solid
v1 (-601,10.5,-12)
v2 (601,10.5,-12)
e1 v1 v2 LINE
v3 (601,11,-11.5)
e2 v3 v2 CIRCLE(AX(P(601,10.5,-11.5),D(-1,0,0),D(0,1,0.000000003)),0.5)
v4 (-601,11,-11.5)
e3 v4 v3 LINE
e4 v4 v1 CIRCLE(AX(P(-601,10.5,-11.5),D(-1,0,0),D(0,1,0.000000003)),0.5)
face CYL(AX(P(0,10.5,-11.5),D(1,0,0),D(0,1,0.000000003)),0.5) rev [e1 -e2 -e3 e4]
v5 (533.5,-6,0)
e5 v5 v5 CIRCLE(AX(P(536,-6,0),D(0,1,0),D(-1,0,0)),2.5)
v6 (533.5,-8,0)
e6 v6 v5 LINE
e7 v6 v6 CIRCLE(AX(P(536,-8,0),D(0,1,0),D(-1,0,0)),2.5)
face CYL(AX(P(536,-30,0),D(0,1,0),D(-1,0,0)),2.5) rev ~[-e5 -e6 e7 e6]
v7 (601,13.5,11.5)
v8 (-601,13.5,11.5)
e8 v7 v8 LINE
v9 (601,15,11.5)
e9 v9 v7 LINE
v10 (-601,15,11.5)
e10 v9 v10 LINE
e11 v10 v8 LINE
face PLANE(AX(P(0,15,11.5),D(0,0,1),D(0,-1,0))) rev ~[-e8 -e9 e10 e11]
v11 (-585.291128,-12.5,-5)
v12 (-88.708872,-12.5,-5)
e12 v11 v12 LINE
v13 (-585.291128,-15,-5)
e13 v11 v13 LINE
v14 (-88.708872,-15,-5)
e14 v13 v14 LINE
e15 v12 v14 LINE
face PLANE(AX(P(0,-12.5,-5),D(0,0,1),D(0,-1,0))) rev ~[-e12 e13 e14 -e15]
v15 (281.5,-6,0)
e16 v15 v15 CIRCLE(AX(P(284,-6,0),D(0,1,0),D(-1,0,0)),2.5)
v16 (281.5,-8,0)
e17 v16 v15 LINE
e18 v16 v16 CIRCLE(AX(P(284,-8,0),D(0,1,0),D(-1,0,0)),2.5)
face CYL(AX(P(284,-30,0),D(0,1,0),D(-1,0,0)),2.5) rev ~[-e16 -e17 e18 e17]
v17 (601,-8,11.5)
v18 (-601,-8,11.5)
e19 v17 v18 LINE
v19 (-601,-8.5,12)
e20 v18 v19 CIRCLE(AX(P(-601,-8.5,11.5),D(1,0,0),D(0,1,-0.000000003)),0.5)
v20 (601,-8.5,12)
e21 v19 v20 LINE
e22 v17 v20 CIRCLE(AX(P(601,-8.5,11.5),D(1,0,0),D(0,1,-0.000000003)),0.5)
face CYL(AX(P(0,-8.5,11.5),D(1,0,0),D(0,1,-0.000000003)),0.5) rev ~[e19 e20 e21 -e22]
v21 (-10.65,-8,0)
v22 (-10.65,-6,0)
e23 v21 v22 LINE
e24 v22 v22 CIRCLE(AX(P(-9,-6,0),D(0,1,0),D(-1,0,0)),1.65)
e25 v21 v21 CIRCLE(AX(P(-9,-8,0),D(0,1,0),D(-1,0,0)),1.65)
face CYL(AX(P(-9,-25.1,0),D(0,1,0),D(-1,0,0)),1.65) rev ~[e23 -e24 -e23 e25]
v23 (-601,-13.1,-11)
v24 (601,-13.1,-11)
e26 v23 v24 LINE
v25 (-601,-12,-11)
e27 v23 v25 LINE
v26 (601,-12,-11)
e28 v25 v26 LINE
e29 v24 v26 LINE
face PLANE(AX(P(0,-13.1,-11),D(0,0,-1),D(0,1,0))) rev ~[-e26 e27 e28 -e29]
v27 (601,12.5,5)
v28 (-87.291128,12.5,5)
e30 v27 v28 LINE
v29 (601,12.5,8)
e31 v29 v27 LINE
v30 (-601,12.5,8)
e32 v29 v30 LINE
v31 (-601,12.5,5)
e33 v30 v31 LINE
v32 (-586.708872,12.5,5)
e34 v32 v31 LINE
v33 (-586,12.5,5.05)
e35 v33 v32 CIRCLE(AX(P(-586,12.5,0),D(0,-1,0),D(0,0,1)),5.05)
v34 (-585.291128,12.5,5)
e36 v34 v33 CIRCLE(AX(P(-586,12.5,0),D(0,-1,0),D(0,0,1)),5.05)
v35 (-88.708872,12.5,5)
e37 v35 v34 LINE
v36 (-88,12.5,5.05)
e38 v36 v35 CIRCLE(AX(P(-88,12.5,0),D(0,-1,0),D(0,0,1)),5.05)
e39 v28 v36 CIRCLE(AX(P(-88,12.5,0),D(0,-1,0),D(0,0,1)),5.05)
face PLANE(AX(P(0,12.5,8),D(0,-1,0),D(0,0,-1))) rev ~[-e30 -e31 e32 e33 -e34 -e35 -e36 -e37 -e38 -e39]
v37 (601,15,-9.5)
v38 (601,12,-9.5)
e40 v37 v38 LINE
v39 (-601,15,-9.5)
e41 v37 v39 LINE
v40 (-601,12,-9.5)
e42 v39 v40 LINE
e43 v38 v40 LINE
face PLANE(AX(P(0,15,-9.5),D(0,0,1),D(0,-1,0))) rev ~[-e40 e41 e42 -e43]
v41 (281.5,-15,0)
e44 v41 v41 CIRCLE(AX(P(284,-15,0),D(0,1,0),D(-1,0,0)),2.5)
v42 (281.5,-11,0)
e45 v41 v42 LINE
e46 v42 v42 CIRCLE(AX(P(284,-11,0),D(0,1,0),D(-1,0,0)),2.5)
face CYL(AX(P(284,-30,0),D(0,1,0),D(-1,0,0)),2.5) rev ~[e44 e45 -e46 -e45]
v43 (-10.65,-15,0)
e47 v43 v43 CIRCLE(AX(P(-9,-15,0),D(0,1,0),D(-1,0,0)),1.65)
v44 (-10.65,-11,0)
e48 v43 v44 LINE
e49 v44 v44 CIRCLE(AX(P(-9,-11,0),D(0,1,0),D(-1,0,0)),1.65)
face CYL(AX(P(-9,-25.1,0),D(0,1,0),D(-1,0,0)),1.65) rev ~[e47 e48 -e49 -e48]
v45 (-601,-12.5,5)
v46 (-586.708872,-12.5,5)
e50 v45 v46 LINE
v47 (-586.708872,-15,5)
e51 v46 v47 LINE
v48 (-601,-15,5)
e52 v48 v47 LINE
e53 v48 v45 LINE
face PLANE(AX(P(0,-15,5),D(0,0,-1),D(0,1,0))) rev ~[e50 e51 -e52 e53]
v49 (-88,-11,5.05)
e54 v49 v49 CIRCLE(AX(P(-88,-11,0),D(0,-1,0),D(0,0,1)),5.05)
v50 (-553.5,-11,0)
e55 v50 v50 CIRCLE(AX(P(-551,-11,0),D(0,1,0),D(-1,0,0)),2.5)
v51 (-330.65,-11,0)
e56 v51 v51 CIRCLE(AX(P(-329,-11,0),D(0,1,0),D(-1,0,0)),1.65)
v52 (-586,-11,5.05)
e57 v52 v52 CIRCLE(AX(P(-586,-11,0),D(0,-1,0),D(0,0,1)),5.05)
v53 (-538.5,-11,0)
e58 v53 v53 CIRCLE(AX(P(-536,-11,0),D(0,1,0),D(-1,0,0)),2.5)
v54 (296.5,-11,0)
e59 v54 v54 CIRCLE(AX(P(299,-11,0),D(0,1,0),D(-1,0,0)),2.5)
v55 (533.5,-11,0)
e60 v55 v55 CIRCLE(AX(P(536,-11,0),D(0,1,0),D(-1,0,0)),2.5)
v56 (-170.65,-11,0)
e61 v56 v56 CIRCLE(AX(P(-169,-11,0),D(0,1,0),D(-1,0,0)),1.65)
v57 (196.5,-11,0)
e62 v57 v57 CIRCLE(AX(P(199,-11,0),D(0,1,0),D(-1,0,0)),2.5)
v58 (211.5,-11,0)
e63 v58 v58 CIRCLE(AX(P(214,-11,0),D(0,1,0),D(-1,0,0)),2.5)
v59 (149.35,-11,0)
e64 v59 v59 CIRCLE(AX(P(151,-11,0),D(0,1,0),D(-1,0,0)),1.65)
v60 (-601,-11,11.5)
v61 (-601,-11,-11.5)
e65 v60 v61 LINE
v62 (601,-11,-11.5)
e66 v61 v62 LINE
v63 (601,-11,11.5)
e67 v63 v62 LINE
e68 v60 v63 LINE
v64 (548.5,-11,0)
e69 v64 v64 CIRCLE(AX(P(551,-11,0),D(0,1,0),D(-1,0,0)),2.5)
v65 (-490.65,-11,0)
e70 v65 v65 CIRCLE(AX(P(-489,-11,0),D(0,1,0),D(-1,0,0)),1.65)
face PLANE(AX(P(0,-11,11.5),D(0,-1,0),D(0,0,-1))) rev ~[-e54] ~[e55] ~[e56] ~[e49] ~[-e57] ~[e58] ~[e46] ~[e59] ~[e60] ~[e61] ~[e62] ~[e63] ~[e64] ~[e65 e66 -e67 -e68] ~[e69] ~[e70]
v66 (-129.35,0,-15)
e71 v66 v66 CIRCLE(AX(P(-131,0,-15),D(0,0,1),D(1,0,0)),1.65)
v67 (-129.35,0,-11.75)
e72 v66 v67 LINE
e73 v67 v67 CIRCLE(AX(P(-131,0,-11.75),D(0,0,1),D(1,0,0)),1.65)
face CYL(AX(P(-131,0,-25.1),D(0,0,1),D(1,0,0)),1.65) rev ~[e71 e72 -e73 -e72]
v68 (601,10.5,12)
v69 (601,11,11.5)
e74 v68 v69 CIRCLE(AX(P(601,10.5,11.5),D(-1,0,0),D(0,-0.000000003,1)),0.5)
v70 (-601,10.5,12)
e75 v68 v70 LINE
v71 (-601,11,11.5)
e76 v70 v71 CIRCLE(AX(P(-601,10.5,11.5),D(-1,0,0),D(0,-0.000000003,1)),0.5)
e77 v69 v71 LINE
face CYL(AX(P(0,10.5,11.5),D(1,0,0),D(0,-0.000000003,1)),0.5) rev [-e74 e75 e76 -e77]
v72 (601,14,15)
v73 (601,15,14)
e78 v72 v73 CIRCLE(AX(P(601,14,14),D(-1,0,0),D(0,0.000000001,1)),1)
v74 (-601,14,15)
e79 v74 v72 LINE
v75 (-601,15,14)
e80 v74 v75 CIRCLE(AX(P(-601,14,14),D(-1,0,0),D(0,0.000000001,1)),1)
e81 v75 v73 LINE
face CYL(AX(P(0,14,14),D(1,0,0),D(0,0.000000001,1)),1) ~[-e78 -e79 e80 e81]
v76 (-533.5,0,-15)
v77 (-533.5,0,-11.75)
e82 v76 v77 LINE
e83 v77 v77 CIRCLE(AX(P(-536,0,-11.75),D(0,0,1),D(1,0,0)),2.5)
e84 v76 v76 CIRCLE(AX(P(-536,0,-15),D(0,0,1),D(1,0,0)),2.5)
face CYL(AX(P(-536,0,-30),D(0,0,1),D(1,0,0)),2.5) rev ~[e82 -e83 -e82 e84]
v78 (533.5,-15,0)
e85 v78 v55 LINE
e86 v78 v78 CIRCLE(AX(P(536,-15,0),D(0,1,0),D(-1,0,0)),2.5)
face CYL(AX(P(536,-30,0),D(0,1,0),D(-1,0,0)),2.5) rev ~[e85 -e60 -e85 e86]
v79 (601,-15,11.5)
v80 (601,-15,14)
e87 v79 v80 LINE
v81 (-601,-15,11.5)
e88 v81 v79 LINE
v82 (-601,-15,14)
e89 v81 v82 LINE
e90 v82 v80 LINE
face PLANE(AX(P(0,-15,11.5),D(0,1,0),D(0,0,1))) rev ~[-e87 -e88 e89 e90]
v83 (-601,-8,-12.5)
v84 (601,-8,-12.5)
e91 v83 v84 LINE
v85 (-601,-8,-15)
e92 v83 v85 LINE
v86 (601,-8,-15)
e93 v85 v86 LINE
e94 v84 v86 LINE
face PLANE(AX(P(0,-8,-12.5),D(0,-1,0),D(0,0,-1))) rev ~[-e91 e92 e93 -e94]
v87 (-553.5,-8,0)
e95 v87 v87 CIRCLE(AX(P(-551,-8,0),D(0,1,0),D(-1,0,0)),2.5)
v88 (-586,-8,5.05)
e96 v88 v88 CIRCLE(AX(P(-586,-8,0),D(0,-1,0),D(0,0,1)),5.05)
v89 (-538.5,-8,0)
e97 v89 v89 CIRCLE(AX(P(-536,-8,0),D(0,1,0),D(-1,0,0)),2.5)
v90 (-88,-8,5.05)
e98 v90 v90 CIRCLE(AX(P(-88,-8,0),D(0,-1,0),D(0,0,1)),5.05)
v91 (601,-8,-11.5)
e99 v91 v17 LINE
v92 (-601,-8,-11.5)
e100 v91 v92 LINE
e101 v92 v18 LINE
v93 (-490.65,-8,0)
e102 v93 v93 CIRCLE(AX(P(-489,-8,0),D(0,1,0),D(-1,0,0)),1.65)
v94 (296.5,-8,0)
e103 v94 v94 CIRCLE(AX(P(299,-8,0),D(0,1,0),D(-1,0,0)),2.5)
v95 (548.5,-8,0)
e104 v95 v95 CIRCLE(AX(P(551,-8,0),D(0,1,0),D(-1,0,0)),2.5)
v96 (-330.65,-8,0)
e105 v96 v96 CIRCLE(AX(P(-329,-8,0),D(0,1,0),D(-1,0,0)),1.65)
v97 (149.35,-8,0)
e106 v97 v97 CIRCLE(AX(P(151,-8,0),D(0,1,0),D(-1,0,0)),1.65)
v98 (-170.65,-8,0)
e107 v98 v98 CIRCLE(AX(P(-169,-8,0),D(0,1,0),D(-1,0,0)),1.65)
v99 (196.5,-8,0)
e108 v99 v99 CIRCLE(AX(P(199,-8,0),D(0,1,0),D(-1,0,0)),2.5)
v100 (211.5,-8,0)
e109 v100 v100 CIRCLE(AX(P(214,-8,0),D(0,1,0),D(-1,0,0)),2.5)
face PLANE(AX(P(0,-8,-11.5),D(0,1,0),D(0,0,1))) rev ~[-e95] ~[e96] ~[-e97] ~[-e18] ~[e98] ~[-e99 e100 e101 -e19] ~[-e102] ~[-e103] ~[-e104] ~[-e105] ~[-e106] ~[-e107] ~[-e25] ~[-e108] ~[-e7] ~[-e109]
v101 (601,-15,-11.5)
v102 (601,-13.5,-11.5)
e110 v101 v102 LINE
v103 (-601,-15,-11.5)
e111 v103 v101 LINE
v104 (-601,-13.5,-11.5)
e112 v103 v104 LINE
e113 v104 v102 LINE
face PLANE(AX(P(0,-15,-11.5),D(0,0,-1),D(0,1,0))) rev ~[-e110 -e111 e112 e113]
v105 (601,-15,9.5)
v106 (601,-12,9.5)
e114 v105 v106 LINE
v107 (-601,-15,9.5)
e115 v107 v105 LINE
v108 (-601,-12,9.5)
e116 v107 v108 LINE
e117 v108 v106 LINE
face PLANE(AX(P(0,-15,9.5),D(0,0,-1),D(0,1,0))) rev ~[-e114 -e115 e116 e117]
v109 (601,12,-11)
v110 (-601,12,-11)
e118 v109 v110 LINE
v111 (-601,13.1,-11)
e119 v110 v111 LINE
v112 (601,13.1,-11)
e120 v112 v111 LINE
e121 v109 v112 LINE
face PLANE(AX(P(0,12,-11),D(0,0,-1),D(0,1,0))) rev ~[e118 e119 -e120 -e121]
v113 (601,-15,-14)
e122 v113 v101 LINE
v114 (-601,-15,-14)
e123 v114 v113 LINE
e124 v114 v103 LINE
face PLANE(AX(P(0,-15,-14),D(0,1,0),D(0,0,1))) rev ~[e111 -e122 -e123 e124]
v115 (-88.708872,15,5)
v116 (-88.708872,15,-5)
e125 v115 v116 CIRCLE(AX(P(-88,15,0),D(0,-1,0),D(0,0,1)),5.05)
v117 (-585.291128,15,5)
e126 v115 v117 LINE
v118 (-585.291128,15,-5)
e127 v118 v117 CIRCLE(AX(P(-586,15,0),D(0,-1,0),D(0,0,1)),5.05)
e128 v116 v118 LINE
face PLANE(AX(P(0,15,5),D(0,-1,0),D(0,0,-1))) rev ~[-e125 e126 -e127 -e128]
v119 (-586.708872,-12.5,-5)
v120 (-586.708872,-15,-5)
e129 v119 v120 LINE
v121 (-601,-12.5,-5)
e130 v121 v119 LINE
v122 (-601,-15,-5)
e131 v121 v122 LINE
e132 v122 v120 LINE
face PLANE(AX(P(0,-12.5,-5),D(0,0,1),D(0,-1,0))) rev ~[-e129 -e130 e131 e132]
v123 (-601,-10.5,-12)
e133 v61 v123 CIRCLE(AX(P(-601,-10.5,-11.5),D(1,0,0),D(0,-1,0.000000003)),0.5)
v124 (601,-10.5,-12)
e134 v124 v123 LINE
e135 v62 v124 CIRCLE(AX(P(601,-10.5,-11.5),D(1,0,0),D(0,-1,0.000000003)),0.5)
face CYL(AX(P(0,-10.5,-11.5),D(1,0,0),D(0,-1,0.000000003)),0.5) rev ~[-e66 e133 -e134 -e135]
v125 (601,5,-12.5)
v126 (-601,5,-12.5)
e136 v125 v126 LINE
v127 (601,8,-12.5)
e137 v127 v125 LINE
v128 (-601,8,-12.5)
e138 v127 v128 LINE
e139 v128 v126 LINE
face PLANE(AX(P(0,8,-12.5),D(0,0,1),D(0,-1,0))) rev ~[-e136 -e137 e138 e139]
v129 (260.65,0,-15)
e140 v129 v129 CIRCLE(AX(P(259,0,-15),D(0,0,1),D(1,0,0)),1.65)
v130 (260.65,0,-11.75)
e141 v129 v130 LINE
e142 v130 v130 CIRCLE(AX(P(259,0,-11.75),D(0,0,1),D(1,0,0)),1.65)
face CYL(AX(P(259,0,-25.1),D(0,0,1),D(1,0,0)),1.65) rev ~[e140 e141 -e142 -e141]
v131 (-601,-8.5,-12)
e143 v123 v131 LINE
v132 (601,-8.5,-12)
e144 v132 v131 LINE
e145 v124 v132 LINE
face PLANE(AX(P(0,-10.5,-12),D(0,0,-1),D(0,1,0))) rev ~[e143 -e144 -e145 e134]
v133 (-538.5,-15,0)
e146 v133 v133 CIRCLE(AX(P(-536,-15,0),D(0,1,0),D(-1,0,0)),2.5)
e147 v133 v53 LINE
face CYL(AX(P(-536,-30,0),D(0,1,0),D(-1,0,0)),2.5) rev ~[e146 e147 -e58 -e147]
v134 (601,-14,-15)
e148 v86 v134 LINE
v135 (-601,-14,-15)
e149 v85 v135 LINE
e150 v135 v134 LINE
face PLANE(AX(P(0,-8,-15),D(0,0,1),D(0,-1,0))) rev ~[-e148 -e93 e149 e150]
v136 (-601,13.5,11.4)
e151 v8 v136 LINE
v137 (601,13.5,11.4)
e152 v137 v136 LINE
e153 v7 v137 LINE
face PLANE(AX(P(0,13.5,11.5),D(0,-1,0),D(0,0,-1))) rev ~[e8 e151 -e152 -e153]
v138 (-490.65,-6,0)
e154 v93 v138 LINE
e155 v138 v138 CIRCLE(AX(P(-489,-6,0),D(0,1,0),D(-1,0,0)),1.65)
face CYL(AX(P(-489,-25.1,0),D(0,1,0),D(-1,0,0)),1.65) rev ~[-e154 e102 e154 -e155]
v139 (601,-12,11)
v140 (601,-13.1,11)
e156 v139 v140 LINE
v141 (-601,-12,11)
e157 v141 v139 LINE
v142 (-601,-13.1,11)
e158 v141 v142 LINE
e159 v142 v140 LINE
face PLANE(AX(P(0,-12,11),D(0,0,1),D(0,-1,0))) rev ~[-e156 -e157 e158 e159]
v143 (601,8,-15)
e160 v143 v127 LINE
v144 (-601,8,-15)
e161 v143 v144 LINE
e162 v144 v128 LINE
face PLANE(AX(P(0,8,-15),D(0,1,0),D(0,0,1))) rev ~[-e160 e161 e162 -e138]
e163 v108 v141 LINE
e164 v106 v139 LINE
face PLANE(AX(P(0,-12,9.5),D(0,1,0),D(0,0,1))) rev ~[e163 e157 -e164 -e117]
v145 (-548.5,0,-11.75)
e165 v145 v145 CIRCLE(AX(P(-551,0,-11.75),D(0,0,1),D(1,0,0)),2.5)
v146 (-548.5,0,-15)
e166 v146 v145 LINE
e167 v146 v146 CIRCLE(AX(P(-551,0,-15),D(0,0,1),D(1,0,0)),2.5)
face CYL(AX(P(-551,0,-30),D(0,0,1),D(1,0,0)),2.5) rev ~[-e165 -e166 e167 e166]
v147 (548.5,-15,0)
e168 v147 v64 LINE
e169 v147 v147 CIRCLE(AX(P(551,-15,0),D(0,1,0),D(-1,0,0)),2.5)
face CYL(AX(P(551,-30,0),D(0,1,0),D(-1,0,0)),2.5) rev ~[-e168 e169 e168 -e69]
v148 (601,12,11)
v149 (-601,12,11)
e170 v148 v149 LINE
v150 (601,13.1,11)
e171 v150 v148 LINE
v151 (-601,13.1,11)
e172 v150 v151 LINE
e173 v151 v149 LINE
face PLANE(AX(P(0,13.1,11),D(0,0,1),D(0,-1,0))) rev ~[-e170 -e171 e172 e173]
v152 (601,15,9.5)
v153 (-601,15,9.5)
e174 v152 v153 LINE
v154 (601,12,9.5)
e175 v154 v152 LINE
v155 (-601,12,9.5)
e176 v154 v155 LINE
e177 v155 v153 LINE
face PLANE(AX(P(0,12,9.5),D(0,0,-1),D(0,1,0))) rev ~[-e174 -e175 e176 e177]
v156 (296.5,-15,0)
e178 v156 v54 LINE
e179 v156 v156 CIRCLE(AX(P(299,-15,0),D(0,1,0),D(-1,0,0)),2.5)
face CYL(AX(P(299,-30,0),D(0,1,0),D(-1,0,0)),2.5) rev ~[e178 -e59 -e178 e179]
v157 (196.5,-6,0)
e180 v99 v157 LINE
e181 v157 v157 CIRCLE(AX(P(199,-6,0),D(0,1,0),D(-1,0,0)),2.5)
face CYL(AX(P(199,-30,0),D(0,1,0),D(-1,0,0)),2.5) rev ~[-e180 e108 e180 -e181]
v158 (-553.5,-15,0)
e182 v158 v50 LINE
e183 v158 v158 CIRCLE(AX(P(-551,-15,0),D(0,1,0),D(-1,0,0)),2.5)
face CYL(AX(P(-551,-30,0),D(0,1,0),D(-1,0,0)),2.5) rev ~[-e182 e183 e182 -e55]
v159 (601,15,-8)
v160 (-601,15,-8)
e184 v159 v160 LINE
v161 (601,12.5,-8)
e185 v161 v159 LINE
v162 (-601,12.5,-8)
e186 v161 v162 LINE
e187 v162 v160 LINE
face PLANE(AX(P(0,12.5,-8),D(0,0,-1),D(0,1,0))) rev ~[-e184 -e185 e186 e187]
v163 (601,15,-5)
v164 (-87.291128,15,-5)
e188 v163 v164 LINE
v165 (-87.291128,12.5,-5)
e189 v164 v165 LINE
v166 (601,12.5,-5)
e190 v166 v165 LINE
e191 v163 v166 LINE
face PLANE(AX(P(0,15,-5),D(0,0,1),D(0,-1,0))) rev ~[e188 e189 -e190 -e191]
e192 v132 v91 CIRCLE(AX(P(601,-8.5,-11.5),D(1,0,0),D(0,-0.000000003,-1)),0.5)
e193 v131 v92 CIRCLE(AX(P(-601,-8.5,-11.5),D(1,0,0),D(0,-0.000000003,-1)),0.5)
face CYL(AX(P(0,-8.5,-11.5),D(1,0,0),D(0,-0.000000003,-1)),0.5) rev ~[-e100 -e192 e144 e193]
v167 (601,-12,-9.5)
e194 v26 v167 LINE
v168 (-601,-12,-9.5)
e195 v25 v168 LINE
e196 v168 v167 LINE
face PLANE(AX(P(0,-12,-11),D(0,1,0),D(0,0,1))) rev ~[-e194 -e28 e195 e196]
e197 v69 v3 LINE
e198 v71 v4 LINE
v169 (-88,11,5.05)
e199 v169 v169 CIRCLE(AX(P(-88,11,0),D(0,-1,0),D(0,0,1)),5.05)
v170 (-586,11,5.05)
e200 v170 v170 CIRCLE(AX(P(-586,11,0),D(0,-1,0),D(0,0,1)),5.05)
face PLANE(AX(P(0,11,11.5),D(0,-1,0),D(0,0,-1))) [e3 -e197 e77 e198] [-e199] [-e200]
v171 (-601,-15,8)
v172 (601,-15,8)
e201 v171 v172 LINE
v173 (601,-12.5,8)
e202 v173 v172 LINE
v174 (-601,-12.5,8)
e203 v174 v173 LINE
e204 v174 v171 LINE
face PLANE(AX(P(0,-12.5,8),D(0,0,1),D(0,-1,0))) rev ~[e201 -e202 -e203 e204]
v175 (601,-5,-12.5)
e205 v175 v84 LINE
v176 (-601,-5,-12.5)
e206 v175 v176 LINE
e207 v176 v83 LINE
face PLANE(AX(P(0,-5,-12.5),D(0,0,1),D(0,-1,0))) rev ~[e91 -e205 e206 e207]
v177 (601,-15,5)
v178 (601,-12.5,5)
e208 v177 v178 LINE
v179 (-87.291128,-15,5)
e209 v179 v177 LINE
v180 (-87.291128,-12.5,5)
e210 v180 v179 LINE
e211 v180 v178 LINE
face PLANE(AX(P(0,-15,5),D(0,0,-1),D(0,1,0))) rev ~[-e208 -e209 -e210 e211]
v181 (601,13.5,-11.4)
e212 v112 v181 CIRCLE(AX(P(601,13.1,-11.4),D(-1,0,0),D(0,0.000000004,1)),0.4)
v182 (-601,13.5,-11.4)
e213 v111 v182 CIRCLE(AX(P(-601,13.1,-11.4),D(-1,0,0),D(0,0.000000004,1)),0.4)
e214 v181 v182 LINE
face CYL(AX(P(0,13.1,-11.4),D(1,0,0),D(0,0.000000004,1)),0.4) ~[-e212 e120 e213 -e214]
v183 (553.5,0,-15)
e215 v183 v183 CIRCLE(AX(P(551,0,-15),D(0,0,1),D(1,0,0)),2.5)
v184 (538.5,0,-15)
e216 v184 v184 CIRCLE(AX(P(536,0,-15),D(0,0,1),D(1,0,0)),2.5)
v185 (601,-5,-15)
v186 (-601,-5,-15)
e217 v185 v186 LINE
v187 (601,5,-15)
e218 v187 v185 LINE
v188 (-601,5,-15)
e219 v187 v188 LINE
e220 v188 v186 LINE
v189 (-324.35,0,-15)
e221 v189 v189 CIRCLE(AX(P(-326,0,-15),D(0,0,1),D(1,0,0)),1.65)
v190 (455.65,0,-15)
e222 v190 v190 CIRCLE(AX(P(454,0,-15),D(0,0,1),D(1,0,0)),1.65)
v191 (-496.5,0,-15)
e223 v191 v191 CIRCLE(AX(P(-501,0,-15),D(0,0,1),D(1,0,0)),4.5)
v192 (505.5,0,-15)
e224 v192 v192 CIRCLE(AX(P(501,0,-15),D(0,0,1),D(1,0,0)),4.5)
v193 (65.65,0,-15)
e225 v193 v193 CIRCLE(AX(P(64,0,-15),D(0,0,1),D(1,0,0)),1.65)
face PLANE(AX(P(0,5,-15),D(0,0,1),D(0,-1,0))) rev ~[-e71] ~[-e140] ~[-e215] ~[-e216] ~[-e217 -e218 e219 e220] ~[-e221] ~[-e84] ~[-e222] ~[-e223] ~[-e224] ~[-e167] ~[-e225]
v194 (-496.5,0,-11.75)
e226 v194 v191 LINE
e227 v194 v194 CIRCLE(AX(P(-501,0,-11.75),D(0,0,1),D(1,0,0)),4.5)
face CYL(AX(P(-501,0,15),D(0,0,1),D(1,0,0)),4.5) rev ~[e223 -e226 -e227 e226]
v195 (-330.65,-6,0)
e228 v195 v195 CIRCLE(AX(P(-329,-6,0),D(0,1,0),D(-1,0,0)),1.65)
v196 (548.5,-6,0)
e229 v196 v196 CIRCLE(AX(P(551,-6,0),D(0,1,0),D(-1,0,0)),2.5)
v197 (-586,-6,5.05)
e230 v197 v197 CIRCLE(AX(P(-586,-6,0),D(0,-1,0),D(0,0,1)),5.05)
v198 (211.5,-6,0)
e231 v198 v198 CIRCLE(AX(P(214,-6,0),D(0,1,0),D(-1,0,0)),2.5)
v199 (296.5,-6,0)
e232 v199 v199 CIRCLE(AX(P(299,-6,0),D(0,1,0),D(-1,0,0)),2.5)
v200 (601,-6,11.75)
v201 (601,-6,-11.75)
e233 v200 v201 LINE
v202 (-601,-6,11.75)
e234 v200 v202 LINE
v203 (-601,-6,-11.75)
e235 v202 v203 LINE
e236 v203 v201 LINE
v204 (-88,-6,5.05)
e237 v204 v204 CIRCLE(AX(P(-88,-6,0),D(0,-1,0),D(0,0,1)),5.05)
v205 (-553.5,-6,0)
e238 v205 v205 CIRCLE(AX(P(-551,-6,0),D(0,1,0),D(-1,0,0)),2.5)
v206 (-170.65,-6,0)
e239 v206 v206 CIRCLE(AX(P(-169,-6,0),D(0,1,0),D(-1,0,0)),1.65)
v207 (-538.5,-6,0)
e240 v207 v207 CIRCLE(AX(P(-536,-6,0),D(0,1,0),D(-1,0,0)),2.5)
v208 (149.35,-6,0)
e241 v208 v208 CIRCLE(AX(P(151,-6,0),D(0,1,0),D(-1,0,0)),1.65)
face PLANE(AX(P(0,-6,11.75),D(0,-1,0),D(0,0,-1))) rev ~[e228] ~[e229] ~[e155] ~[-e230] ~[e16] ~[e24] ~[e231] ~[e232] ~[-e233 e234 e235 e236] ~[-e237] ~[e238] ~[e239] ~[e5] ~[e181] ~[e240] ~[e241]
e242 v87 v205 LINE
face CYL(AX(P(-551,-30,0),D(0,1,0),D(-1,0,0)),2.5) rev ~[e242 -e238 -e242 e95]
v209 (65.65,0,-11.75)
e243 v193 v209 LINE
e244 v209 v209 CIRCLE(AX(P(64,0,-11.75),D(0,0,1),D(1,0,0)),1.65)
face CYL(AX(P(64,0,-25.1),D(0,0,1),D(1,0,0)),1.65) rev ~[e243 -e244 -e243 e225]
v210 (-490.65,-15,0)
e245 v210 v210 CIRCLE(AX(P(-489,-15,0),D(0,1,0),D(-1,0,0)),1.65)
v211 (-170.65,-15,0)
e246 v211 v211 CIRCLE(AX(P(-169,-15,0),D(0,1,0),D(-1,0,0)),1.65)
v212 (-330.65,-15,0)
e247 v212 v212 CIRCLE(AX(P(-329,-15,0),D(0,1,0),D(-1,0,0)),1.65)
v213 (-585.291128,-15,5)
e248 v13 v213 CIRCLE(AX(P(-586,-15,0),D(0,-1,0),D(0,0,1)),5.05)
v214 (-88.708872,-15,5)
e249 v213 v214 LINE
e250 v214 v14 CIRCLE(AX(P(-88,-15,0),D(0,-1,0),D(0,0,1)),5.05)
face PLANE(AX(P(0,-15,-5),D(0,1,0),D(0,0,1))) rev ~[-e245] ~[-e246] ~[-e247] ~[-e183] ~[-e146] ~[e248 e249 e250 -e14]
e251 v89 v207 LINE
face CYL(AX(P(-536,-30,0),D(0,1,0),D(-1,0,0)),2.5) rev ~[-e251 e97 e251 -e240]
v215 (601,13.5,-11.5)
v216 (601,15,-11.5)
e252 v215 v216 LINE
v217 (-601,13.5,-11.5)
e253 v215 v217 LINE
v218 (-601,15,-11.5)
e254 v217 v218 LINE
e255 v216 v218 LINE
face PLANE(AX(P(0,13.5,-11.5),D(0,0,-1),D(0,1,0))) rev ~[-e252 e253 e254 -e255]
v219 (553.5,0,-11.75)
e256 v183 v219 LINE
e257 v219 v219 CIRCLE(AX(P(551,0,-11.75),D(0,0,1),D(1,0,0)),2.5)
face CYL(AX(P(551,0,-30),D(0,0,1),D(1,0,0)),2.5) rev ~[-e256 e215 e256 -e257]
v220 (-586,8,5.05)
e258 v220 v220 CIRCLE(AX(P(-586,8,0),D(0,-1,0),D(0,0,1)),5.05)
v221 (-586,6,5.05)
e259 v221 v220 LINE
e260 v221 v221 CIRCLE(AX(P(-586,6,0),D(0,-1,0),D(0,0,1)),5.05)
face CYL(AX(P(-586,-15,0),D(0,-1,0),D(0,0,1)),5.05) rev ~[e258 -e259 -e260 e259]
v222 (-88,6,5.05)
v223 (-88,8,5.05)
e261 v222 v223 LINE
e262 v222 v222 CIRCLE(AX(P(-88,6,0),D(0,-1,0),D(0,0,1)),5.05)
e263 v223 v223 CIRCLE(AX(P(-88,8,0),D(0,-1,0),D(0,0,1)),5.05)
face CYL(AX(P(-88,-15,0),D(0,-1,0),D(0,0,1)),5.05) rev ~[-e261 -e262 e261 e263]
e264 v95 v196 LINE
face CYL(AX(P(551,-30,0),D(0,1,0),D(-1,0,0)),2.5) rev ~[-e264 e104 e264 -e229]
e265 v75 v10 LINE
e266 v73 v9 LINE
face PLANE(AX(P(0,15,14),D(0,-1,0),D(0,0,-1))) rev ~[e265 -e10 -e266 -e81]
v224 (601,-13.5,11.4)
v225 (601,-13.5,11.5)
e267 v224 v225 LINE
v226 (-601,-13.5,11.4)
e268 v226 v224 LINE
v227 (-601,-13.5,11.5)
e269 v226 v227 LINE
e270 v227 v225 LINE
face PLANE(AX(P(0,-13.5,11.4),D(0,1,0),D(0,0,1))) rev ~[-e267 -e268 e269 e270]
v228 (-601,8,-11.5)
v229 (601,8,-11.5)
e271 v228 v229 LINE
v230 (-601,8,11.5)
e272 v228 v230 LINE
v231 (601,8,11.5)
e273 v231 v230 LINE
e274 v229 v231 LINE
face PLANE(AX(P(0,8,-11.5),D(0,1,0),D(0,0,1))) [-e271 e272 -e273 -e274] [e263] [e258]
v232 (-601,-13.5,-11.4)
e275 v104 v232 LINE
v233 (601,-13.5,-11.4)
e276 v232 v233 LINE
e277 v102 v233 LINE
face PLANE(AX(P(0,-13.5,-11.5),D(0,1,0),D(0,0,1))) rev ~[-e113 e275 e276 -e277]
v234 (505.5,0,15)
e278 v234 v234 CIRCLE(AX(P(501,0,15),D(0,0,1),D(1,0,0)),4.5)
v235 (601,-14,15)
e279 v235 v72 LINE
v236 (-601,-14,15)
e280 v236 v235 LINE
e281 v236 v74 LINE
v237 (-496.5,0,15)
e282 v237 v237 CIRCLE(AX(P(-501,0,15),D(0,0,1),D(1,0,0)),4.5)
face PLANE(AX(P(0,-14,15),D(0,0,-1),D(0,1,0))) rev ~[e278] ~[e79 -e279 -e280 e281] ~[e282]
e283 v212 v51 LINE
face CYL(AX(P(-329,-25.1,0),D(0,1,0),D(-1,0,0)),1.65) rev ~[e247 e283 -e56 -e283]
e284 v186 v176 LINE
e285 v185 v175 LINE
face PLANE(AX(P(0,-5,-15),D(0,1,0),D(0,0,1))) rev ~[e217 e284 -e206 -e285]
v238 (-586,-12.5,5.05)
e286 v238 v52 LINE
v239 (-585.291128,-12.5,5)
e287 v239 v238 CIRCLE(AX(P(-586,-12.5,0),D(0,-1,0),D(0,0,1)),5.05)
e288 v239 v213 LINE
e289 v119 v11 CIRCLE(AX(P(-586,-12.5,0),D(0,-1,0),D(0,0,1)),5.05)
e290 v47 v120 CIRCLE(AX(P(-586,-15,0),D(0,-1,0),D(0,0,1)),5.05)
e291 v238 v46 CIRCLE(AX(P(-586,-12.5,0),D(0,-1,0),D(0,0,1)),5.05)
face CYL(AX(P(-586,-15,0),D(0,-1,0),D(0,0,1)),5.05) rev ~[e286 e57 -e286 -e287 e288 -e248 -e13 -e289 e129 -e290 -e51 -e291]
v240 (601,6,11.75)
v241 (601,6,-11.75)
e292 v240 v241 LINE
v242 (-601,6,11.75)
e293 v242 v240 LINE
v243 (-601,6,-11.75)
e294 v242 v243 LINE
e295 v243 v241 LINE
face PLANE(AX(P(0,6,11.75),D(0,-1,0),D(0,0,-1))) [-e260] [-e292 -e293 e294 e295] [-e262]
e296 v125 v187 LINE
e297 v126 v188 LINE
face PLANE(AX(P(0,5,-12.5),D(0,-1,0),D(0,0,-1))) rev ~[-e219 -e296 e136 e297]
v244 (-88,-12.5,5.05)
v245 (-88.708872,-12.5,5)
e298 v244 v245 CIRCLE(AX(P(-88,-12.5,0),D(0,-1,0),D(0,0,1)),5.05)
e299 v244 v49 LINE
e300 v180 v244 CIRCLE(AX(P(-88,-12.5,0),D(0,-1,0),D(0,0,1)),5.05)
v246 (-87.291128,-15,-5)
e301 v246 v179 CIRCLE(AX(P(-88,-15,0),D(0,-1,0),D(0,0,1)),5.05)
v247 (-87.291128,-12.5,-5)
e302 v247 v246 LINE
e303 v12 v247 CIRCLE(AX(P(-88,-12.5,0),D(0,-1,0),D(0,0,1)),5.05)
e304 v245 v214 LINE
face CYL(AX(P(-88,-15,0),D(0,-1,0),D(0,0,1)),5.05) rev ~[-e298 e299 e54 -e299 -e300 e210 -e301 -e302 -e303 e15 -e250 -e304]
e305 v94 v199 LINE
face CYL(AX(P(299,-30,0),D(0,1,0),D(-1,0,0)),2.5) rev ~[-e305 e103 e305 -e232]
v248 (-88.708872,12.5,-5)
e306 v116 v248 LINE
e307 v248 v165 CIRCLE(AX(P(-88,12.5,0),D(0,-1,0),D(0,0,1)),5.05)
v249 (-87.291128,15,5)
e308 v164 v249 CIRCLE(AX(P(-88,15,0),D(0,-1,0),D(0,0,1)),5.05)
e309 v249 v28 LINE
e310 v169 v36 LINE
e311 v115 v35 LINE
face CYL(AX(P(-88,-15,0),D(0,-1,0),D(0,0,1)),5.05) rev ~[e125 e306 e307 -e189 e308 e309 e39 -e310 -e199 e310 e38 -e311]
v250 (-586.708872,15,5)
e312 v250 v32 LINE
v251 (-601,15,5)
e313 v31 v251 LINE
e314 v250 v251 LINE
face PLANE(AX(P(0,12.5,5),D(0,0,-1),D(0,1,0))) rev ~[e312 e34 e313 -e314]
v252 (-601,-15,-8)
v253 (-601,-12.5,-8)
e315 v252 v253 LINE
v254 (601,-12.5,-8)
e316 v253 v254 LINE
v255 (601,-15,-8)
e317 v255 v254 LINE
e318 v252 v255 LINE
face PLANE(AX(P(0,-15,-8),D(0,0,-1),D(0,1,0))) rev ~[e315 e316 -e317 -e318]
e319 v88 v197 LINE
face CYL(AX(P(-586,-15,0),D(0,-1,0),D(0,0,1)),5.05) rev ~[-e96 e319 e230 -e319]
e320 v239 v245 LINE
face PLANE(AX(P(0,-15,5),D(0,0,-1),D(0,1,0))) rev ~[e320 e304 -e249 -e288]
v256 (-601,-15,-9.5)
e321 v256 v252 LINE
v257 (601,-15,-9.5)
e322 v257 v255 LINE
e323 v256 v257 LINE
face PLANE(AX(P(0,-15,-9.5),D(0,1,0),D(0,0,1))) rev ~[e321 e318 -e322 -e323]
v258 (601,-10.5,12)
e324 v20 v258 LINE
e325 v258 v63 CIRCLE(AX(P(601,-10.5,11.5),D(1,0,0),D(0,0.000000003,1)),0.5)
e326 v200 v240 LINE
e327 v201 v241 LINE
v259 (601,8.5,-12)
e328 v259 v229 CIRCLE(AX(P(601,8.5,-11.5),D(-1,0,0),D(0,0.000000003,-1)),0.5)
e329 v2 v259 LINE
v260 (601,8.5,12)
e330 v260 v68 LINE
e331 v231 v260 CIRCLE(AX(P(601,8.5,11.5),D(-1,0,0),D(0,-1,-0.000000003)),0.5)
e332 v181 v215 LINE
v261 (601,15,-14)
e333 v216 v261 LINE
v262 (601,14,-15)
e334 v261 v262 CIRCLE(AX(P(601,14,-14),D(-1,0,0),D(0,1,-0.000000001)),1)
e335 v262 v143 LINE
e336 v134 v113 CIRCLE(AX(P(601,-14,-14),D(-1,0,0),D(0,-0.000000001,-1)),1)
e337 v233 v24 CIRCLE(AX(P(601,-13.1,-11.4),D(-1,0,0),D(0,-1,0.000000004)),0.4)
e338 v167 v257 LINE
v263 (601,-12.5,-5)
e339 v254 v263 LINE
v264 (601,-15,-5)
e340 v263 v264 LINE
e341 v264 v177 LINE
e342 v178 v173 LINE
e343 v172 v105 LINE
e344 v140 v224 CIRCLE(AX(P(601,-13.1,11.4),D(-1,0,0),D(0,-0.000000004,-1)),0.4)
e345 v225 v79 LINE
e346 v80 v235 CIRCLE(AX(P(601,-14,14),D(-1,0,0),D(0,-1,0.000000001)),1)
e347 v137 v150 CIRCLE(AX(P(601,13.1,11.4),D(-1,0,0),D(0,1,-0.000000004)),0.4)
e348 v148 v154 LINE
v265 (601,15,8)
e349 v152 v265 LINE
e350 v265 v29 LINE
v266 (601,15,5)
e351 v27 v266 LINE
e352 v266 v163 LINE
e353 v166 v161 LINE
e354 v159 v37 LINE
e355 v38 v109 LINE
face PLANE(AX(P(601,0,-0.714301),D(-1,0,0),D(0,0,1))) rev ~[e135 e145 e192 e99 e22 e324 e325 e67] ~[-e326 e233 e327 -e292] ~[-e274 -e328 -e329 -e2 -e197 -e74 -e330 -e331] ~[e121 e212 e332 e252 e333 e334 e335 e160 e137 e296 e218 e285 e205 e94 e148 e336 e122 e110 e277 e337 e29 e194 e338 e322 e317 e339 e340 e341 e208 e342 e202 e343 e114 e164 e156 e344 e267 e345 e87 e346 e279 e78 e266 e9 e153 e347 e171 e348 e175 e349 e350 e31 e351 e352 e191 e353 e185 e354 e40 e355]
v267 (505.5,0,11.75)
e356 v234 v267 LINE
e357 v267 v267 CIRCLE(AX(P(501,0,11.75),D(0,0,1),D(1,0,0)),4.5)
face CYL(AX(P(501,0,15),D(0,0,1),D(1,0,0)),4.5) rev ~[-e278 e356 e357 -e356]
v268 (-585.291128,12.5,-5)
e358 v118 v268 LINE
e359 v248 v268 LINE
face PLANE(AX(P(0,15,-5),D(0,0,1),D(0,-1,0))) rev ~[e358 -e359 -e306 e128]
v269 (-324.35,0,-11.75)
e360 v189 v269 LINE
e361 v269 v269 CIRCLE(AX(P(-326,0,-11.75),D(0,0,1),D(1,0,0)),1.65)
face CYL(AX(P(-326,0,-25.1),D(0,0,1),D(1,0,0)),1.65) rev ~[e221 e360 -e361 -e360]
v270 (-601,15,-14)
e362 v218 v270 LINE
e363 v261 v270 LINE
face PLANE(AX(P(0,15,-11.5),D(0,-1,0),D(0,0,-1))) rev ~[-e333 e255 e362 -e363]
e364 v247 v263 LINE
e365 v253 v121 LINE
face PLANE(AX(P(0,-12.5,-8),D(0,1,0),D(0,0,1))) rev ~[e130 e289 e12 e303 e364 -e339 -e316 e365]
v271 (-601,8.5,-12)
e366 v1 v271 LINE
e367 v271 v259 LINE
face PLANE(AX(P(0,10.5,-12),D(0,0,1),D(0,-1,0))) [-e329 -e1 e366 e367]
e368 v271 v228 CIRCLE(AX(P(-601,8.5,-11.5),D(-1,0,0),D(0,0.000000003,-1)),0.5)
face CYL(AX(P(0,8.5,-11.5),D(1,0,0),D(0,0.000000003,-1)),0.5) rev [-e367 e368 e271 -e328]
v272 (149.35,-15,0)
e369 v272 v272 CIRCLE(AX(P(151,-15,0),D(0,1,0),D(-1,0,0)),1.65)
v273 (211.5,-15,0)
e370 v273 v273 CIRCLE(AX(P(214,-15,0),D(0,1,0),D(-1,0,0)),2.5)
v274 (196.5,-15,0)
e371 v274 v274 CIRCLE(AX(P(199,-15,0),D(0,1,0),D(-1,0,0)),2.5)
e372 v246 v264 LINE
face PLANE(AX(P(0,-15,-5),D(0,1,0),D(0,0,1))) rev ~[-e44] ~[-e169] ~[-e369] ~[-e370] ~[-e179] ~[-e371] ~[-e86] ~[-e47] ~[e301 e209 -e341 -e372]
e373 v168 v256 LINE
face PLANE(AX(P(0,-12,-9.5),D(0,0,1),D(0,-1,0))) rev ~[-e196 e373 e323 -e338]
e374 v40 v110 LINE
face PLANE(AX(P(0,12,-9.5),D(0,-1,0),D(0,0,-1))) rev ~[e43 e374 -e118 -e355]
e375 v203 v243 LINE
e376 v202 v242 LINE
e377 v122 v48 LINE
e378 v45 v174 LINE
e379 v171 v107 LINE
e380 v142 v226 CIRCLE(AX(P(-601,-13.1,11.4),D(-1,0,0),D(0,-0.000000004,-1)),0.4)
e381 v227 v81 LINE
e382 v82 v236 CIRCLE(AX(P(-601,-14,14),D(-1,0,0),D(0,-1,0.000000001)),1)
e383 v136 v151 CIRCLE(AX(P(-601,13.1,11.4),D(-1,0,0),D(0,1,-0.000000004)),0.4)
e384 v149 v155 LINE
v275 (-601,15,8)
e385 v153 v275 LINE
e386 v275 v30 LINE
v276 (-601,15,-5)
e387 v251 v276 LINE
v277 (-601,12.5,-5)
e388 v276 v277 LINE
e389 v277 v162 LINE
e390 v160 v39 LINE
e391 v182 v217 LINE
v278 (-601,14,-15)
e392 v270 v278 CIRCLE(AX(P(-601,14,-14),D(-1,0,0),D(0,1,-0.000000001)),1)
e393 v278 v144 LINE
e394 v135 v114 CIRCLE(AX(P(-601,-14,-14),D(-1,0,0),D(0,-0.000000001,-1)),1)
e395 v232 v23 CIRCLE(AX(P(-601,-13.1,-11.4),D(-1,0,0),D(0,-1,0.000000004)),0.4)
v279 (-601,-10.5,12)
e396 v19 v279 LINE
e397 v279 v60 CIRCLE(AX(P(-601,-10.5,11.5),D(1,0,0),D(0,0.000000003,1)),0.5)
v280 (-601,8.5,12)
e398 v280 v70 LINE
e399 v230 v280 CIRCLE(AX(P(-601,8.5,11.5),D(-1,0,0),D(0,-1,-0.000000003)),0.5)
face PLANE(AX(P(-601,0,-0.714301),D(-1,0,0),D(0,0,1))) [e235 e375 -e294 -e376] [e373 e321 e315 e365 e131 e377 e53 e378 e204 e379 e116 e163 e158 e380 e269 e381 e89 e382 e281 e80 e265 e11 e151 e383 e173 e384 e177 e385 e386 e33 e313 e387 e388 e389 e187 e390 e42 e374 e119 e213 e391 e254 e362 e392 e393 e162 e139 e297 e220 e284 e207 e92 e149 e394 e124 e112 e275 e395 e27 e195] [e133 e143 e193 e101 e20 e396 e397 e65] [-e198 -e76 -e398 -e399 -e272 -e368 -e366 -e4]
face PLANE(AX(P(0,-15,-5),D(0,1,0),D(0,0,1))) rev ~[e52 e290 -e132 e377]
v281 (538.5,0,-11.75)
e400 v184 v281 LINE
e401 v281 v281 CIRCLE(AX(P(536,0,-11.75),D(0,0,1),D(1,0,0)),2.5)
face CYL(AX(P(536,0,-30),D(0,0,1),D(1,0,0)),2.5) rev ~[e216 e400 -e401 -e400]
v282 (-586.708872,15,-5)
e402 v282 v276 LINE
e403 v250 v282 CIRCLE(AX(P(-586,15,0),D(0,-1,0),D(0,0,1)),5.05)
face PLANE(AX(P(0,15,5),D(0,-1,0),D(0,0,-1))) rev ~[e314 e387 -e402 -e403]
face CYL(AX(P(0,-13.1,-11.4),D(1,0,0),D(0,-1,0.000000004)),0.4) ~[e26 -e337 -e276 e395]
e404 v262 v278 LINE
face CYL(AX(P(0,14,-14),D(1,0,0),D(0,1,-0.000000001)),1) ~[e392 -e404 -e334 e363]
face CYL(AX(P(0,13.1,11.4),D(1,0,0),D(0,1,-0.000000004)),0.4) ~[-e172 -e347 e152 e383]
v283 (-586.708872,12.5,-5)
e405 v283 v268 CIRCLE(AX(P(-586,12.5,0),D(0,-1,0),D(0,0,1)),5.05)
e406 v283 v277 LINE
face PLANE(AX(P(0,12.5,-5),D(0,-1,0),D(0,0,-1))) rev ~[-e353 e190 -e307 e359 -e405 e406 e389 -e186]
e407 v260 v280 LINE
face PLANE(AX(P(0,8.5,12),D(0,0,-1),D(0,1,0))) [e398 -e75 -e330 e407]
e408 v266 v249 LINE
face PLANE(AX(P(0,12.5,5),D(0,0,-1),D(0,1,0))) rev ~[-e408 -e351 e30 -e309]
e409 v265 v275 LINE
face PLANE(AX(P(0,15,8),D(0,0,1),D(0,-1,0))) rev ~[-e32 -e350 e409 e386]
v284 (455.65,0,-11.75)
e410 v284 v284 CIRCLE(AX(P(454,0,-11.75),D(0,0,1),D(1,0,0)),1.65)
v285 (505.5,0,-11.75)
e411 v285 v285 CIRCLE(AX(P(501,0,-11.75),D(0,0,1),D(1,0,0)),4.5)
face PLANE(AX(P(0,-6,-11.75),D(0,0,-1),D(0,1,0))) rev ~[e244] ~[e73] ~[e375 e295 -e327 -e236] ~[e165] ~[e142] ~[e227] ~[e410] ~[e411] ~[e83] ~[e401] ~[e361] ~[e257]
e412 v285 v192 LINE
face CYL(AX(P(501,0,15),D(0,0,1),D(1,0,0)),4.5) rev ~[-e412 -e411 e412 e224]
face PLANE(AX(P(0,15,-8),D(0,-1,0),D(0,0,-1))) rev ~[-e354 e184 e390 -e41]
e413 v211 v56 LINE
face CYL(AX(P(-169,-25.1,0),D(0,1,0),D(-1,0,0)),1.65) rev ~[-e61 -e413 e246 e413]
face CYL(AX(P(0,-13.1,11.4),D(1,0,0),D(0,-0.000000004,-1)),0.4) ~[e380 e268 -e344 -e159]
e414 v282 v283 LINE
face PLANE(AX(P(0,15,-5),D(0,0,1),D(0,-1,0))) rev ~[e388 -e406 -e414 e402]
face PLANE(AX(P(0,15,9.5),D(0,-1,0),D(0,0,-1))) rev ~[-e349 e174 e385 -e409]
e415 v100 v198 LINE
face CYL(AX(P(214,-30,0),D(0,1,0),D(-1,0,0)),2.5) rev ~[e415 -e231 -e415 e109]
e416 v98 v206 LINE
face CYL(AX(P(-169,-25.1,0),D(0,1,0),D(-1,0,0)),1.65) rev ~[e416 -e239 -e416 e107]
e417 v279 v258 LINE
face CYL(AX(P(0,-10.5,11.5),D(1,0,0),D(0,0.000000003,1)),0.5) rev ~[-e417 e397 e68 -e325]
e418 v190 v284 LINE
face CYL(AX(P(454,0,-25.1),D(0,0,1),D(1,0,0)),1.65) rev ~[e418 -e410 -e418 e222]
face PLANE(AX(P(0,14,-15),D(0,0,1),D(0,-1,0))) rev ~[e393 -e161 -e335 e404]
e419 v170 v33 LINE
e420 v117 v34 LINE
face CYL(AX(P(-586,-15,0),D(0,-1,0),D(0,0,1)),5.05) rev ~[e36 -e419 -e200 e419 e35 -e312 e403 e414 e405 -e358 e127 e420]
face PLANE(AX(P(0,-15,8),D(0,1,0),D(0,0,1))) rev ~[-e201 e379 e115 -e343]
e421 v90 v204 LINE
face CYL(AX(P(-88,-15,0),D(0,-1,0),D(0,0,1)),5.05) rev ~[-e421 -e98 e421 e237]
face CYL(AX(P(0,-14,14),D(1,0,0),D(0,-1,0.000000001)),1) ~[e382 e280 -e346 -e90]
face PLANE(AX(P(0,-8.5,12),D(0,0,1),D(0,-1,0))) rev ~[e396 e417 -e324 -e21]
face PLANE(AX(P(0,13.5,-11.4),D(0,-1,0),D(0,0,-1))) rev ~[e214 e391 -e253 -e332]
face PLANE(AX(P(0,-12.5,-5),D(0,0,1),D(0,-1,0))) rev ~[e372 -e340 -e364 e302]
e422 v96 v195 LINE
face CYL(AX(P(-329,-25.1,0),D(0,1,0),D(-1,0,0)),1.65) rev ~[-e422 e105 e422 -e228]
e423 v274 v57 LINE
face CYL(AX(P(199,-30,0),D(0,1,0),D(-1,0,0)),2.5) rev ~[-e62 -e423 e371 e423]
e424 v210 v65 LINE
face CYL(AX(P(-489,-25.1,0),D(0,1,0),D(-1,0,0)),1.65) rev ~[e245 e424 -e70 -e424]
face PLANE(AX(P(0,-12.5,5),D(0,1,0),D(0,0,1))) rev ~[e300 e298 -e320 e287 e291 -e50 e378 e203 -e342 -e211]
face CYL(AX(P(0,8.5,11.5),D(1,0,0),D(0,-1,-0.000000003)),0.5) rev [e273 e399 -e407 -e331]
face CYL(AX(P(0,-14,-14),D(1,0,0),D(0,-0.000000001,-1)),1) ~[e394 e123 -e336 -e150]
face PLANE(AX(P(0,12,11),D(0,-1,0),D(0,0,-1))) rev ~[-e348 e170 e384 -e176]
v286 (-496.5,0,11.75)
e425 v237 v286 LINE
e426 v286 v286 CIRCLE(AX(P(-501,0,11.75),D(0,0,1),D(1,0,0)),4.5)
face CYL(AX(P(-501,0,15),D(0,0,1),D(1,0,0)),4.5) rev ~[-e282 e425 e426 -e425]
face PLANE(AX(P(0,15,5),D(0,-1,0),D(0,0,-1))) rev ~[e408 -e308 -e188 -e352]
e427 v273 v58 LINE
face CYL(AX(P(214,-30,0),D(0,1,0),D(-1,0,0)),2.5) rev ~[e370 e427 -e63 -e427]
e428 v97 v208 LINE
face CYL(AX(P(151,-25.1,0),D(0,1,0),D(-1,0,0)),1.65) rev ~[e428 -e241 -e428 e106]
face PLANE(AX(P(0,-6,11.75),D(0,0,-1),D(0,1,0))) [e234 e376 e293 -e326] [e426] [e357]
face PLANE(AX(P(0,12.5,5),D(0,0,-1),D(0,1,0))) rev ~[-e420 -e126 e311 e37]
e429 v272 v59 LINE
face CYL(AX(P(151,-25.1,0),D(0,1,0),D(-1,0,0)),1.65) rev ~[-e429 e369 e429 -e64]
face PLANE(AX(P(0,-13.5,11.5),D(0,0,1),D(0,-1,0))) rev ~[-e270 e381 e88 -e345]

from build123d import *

# Parameters (mm, degrees)
SKETCH_1_W             = 23.5
SKETCH_1_H             = 12
EXTRUDE_1_DEPTH        = 601
HOLE_WIZARD_M6_1_D     = 5
HOLE_WIZARD_M6_1_DEPTH = 15
HOLE_WIZARD_M6_1_TIP   = 1.502151548
HOLE_WIZARD_M6_2_D     = 5
HOLE_WIZARD_M6_2_DEPTH = 15
HOLE_WIZARD_M6_2_TIP   = 1.502151548
SKETCH_6_R             = 5.05
CUT_EXTRUDE_1_DEPTH    = 602.935212461
HOLE_WIZARD_M4_1_D     = 3.3
HOLE_WIZARD_M4_1_DEPTH = 10.1
HOLE_WIZARD_M4_1_TIP   = 0.991420021
SKETCH_9_R             = 4.5
CUT_EXTRUDE_2_DEPTH    = 602.935212461
HOLE_WIZARD_M4_2_D     = 3.3
HOLE_WIZARD_M4_2_DEPTH = 10.1
HOLE_WIZARD_M4_2_TIP   = 0.991420021


with BuildPart() as part:
    # 草图1 → 凸台-拉伸1 (new, symmetric)
    with BuildSketch(Plane(origin=(0, 0, 0), x_dir=(0, 0, -1), z_dir=(1, 0, 0))):
        with BuildLine():
            Line((-14, 15), (-11.5, 15))
            Line((-11.5, 15), (-11.5, 13.5))
            Line((-11.5, 13.5), (-11.4, 13.5))
            ThreePointArc((-11.4, 13.5), (-11.117157288, 13.382842712), (-11, 13.1))
            Line((-11, 13.1), (-11, 12))
            Line((-11, 12), (-9.5, 12))
            Line((-9.5, 12), (-9.5, 15))
            Line((-9.5, 15), (-8, 15))
            Line((-8, 15), (-8, 12.5))
            Line((-8, 12.5), (-5, 12.5))
            Line((-5, 12.5), (-5, 15))
            Line((-5, 15), (5, 15))
            Line((5, 15), (5, 12.5))
            Line((5, 12.5), (8, 12.5))
            Line((8, 12.5), (8, 15))
            Line((8, 15), (9.5, 15))
            Line((9.5, 15), (9.5, 12))
            Line((9.5, 12), (11, 12))
            Line((11, 12), (11, 13.1))
            ThreePointArc((11, 13.1), (11.117157288, 13.382842712), (11.4, 13.5))
            Line((11.4, 13.5), (11.5, 13.5))
            Line((11.5, 13.5), (11.5, 15))
            Line((11.5, 15), (14, 15))
            ThreePointArc((14, 15), (14.707106781, 14.707106781), (15, 14))
            Line((15, 14), (15, 8))
            Line((15, 8), (12.5, 8))
            Line((12.5, 8), (12.5, 5))
            Line((12.5, 5), (15, 5))
            Line((15, 5), (15, -5))
            Line((15, -5), (12.5, -5))
            Line((12.5, -5), (12.5, -8))
            Line((12.5, -8), (15, -8))
            Line((15, -8), (15, -14))
            ThreePointArc((15, -14), (14.707106781, -14.707106781), (14, -15))
            Line((14, -15), (11.5, -15))
            Line((11.5, -15), (11.5, -13.5))
            Line((11.5, -13.5), (11.4, -13.5))
            ThreePointArc((11.4, -13.5), (11.117157288, -13.382842712), (11, -13.1))
            Line((11, -13.1), (11, -12))
            Line((11, -12), (9.5, -12))
            Line((9.5, -12), (9.5, -15))
            Line((9.5, -15), (8, -15))
            Line((8, -15), (8, -12.5))
            Line((8, -12.5), (5, -12.5))
            Line((5, -12.5), (5, -15))
            Line((5, -15), (-5, -15))
            Line((-5, -15), (-5, -12.5))
            Line((-5, -12.5), (-8, -12.5))
            Line((-8, -12.5), (-8, -15))
            Line((-8, -15), (-9.5, -15))
            Line((-9.5, -15), (-9.5, -12))
            Line((-9.5, -12), (-11, -12))
            Line((-11, -12), (-11, -13.1))
            ThreePointArc((-11, -13.1), (-11.117157288, -13.382842712), (-11.4, -13.5))
            Line((-11.4, -13.5), (-11.5, -13.5))
            Line((-11.5, -13.5), (-11.5, -15))
            Line((-11.5, -15), (-14, -15))
            ThreePointArc((-14, -15), (-14.707106781, -14.707106781), (-15, -14))
            Line((-15, -14), (-15, 14))
            ThreePointArc((-15, 14), (-14.707106781, 14.707106781), (-14, 15))
        make_face()
        with BuildLine():
            Line((12, -10.5), (12, -8.5))
            ThreePointArc((12, -8.5), (11.853553391, -8.146446609), (11.5, -8))
            Line((11.5, -8), (-11.5, -8))
            ThreePointArc((-11.5, -8), (-11.853553391, -8.146446609), (-12, -8.5))
            Line((-12, -8.5), (-12, -10.5))
            ThreePointArc((-12, -10.5), (-11.853553391, -10.853553391), (-11.5, -11))
            Line((-11.5, -11), (11.5, -11))
            ThreePointArc((11.5, -11), (11.853553391, -10.853553391), (12, -10.5))
        make_face(mode=Mode.SUBTRACT)
        with BuildLine():
            Line((-11.5, 11), (11.5, 11))
            ThreePointArc((11.5, 11), (11.853553391, 10.853553391), (12, 10.5))
            Line((12, 10.5), (12, 8.5))
            ThreePointArc((12, 8.5), (11.853553391, 8.146446609), (11.5, 8))
            Line((11.5, 8), (-11.5, 8))
            ThreePointArc((-11.5, 8), (-11.853553391, 8.146446609), (-12, 8.5))
            Line((-12, 8.5), (-12, 10.5))
            ThreePointArc((-12, 10.5), (-11.853553391, 10.853553391), (-11.5, 11))
        make_face(mode=Mode.SUBTRACT)
        Rectangle(SKETCH_1_W, SKETCH_1_H, mode=Mode.SUBTRACT)
    extrude(amount=EXTRUDE_1_DEPTH, both=True)

    # M6 螺纹孔1
    with Locations(Plane(origin=(0, 0, -15), x_dir=(-1, 0, 0), z_dir=(0, 0, -1))):
        with Locations((-551, 0), (-536, 0), (536, 0), (551, 0)):
            Hole(HOLE_WIZARD_M6_1_D / 2, depth=HOLE_WIZARD_M6_1_DEPTH)
            with Locations((0, 0, -(HOLE_WIZARD_M6_1_DEPTH + HOLE_WIZARD_M6_1_TIP / 2))):  # 118° drill point
                Cone(0, HOLE_WIZARD_M6_1_D / 2, HOLE_WIZARD_M6_1_TIP, mode=Mode.SUBTRACT)

    # M6 螺纹孔2
    with Locations(Plane.XZ.offset(15)):
        with Locations((551, 0), (536, 0), (299, 0), (284, 0), (214, 0), (199, 0), (-536, 0), (-551, 0)):
            Hole(HOLE_WIZARD_M6_2_D / 2, depth=HOLE_WIZARD_M6_2_DEPTH)
            with Locations((0, 0, -(HOLE_WIZARD_M6_2_DEPTH + HOLE_WIZARD_M6_2_TIP / 2))):  # 118° drill point
                Cone(0, HOLE_WIZARD_M6_2_D / 2, HOLE_WIZARD_M6_2_TIP, mode=Mode.SUBTRACT)

    # 草图6 → 切除-拉伸1 (cut, through all)
    with BuildSketch(Plane.XZ.offset(15)):
        with Locations(Location((-586, 0, 0), (0, 0, 90))):
            Circle(SKETCH_6_R)
        with Locations(Location((-88, 0, 0), (0, 0, 90))):
            Circle(SKETCH_6_R)
    extrude(amount=-CUT_EXTRUDE_1_DEPTH, mode=Mode.SUBTRACT)

    # M4 螺纹孔1
    with Locations(Plane.XZ.offset(15)):
        with Locations((-489, 0), (-329, 0), (-169, 0), (-9, 0), (151, 0)):
            Hole(HOLE_WIZARD_M4_1_D / 2, depth=HOLE_WIZARD_M4_1_DEPTH)
            with Locations((0, 0, -(HOLE_WIZARD_M4_1_DEPTH + HOLE_WIZARD_M4_1_TIP / 2))):  # 118° drill point
                Cone(0, HOLE_WIZARD_M4_1_D / 2, HOLE_WIZARD_M4_1_TIP, mode=Mode.SUBTRACT)

    # 草图9 → 切除-拉伸2 (cut, through all)
    with BuildSketch(Plane.XY.offset(15)):
        with Locations((501, 0)):
            Circle(SKETCH_9_R)
        with Locations((-501, 0)):
            Circle(SKETCH_9_R)
    extrude(amount=-CUT_EXTRUDE_2_DEPTH, mode=Mode.SUBTRACT)

    # M4 螺纹孔2
    with Locations(Plane(origin=(0, 0, -15), x_dir=(-1, 0, 0), z_dir=(0, 0, -1))):
        with Locations((-454, 0), (-259, 0), (-64, 0), (131, 0), (326, 0)):
            Hole(HOLE_WIZARD_M4_2_D / 2, depth=HOLE_WIZARD_M4_2_DEPTH)
            with Locations((0, 0, -(HOLE_WIZARD_M4_2_DEPTH + HOLE_WIZARD_M4_2_TIP / 2))):  # 118° drill point
                Cone(0, HOLE_WIZARD_M4_2_D / 2, HOLE_WIZARD_M4_2_TIP, mode=Mode.SUBTRACT)


solid = part.part
